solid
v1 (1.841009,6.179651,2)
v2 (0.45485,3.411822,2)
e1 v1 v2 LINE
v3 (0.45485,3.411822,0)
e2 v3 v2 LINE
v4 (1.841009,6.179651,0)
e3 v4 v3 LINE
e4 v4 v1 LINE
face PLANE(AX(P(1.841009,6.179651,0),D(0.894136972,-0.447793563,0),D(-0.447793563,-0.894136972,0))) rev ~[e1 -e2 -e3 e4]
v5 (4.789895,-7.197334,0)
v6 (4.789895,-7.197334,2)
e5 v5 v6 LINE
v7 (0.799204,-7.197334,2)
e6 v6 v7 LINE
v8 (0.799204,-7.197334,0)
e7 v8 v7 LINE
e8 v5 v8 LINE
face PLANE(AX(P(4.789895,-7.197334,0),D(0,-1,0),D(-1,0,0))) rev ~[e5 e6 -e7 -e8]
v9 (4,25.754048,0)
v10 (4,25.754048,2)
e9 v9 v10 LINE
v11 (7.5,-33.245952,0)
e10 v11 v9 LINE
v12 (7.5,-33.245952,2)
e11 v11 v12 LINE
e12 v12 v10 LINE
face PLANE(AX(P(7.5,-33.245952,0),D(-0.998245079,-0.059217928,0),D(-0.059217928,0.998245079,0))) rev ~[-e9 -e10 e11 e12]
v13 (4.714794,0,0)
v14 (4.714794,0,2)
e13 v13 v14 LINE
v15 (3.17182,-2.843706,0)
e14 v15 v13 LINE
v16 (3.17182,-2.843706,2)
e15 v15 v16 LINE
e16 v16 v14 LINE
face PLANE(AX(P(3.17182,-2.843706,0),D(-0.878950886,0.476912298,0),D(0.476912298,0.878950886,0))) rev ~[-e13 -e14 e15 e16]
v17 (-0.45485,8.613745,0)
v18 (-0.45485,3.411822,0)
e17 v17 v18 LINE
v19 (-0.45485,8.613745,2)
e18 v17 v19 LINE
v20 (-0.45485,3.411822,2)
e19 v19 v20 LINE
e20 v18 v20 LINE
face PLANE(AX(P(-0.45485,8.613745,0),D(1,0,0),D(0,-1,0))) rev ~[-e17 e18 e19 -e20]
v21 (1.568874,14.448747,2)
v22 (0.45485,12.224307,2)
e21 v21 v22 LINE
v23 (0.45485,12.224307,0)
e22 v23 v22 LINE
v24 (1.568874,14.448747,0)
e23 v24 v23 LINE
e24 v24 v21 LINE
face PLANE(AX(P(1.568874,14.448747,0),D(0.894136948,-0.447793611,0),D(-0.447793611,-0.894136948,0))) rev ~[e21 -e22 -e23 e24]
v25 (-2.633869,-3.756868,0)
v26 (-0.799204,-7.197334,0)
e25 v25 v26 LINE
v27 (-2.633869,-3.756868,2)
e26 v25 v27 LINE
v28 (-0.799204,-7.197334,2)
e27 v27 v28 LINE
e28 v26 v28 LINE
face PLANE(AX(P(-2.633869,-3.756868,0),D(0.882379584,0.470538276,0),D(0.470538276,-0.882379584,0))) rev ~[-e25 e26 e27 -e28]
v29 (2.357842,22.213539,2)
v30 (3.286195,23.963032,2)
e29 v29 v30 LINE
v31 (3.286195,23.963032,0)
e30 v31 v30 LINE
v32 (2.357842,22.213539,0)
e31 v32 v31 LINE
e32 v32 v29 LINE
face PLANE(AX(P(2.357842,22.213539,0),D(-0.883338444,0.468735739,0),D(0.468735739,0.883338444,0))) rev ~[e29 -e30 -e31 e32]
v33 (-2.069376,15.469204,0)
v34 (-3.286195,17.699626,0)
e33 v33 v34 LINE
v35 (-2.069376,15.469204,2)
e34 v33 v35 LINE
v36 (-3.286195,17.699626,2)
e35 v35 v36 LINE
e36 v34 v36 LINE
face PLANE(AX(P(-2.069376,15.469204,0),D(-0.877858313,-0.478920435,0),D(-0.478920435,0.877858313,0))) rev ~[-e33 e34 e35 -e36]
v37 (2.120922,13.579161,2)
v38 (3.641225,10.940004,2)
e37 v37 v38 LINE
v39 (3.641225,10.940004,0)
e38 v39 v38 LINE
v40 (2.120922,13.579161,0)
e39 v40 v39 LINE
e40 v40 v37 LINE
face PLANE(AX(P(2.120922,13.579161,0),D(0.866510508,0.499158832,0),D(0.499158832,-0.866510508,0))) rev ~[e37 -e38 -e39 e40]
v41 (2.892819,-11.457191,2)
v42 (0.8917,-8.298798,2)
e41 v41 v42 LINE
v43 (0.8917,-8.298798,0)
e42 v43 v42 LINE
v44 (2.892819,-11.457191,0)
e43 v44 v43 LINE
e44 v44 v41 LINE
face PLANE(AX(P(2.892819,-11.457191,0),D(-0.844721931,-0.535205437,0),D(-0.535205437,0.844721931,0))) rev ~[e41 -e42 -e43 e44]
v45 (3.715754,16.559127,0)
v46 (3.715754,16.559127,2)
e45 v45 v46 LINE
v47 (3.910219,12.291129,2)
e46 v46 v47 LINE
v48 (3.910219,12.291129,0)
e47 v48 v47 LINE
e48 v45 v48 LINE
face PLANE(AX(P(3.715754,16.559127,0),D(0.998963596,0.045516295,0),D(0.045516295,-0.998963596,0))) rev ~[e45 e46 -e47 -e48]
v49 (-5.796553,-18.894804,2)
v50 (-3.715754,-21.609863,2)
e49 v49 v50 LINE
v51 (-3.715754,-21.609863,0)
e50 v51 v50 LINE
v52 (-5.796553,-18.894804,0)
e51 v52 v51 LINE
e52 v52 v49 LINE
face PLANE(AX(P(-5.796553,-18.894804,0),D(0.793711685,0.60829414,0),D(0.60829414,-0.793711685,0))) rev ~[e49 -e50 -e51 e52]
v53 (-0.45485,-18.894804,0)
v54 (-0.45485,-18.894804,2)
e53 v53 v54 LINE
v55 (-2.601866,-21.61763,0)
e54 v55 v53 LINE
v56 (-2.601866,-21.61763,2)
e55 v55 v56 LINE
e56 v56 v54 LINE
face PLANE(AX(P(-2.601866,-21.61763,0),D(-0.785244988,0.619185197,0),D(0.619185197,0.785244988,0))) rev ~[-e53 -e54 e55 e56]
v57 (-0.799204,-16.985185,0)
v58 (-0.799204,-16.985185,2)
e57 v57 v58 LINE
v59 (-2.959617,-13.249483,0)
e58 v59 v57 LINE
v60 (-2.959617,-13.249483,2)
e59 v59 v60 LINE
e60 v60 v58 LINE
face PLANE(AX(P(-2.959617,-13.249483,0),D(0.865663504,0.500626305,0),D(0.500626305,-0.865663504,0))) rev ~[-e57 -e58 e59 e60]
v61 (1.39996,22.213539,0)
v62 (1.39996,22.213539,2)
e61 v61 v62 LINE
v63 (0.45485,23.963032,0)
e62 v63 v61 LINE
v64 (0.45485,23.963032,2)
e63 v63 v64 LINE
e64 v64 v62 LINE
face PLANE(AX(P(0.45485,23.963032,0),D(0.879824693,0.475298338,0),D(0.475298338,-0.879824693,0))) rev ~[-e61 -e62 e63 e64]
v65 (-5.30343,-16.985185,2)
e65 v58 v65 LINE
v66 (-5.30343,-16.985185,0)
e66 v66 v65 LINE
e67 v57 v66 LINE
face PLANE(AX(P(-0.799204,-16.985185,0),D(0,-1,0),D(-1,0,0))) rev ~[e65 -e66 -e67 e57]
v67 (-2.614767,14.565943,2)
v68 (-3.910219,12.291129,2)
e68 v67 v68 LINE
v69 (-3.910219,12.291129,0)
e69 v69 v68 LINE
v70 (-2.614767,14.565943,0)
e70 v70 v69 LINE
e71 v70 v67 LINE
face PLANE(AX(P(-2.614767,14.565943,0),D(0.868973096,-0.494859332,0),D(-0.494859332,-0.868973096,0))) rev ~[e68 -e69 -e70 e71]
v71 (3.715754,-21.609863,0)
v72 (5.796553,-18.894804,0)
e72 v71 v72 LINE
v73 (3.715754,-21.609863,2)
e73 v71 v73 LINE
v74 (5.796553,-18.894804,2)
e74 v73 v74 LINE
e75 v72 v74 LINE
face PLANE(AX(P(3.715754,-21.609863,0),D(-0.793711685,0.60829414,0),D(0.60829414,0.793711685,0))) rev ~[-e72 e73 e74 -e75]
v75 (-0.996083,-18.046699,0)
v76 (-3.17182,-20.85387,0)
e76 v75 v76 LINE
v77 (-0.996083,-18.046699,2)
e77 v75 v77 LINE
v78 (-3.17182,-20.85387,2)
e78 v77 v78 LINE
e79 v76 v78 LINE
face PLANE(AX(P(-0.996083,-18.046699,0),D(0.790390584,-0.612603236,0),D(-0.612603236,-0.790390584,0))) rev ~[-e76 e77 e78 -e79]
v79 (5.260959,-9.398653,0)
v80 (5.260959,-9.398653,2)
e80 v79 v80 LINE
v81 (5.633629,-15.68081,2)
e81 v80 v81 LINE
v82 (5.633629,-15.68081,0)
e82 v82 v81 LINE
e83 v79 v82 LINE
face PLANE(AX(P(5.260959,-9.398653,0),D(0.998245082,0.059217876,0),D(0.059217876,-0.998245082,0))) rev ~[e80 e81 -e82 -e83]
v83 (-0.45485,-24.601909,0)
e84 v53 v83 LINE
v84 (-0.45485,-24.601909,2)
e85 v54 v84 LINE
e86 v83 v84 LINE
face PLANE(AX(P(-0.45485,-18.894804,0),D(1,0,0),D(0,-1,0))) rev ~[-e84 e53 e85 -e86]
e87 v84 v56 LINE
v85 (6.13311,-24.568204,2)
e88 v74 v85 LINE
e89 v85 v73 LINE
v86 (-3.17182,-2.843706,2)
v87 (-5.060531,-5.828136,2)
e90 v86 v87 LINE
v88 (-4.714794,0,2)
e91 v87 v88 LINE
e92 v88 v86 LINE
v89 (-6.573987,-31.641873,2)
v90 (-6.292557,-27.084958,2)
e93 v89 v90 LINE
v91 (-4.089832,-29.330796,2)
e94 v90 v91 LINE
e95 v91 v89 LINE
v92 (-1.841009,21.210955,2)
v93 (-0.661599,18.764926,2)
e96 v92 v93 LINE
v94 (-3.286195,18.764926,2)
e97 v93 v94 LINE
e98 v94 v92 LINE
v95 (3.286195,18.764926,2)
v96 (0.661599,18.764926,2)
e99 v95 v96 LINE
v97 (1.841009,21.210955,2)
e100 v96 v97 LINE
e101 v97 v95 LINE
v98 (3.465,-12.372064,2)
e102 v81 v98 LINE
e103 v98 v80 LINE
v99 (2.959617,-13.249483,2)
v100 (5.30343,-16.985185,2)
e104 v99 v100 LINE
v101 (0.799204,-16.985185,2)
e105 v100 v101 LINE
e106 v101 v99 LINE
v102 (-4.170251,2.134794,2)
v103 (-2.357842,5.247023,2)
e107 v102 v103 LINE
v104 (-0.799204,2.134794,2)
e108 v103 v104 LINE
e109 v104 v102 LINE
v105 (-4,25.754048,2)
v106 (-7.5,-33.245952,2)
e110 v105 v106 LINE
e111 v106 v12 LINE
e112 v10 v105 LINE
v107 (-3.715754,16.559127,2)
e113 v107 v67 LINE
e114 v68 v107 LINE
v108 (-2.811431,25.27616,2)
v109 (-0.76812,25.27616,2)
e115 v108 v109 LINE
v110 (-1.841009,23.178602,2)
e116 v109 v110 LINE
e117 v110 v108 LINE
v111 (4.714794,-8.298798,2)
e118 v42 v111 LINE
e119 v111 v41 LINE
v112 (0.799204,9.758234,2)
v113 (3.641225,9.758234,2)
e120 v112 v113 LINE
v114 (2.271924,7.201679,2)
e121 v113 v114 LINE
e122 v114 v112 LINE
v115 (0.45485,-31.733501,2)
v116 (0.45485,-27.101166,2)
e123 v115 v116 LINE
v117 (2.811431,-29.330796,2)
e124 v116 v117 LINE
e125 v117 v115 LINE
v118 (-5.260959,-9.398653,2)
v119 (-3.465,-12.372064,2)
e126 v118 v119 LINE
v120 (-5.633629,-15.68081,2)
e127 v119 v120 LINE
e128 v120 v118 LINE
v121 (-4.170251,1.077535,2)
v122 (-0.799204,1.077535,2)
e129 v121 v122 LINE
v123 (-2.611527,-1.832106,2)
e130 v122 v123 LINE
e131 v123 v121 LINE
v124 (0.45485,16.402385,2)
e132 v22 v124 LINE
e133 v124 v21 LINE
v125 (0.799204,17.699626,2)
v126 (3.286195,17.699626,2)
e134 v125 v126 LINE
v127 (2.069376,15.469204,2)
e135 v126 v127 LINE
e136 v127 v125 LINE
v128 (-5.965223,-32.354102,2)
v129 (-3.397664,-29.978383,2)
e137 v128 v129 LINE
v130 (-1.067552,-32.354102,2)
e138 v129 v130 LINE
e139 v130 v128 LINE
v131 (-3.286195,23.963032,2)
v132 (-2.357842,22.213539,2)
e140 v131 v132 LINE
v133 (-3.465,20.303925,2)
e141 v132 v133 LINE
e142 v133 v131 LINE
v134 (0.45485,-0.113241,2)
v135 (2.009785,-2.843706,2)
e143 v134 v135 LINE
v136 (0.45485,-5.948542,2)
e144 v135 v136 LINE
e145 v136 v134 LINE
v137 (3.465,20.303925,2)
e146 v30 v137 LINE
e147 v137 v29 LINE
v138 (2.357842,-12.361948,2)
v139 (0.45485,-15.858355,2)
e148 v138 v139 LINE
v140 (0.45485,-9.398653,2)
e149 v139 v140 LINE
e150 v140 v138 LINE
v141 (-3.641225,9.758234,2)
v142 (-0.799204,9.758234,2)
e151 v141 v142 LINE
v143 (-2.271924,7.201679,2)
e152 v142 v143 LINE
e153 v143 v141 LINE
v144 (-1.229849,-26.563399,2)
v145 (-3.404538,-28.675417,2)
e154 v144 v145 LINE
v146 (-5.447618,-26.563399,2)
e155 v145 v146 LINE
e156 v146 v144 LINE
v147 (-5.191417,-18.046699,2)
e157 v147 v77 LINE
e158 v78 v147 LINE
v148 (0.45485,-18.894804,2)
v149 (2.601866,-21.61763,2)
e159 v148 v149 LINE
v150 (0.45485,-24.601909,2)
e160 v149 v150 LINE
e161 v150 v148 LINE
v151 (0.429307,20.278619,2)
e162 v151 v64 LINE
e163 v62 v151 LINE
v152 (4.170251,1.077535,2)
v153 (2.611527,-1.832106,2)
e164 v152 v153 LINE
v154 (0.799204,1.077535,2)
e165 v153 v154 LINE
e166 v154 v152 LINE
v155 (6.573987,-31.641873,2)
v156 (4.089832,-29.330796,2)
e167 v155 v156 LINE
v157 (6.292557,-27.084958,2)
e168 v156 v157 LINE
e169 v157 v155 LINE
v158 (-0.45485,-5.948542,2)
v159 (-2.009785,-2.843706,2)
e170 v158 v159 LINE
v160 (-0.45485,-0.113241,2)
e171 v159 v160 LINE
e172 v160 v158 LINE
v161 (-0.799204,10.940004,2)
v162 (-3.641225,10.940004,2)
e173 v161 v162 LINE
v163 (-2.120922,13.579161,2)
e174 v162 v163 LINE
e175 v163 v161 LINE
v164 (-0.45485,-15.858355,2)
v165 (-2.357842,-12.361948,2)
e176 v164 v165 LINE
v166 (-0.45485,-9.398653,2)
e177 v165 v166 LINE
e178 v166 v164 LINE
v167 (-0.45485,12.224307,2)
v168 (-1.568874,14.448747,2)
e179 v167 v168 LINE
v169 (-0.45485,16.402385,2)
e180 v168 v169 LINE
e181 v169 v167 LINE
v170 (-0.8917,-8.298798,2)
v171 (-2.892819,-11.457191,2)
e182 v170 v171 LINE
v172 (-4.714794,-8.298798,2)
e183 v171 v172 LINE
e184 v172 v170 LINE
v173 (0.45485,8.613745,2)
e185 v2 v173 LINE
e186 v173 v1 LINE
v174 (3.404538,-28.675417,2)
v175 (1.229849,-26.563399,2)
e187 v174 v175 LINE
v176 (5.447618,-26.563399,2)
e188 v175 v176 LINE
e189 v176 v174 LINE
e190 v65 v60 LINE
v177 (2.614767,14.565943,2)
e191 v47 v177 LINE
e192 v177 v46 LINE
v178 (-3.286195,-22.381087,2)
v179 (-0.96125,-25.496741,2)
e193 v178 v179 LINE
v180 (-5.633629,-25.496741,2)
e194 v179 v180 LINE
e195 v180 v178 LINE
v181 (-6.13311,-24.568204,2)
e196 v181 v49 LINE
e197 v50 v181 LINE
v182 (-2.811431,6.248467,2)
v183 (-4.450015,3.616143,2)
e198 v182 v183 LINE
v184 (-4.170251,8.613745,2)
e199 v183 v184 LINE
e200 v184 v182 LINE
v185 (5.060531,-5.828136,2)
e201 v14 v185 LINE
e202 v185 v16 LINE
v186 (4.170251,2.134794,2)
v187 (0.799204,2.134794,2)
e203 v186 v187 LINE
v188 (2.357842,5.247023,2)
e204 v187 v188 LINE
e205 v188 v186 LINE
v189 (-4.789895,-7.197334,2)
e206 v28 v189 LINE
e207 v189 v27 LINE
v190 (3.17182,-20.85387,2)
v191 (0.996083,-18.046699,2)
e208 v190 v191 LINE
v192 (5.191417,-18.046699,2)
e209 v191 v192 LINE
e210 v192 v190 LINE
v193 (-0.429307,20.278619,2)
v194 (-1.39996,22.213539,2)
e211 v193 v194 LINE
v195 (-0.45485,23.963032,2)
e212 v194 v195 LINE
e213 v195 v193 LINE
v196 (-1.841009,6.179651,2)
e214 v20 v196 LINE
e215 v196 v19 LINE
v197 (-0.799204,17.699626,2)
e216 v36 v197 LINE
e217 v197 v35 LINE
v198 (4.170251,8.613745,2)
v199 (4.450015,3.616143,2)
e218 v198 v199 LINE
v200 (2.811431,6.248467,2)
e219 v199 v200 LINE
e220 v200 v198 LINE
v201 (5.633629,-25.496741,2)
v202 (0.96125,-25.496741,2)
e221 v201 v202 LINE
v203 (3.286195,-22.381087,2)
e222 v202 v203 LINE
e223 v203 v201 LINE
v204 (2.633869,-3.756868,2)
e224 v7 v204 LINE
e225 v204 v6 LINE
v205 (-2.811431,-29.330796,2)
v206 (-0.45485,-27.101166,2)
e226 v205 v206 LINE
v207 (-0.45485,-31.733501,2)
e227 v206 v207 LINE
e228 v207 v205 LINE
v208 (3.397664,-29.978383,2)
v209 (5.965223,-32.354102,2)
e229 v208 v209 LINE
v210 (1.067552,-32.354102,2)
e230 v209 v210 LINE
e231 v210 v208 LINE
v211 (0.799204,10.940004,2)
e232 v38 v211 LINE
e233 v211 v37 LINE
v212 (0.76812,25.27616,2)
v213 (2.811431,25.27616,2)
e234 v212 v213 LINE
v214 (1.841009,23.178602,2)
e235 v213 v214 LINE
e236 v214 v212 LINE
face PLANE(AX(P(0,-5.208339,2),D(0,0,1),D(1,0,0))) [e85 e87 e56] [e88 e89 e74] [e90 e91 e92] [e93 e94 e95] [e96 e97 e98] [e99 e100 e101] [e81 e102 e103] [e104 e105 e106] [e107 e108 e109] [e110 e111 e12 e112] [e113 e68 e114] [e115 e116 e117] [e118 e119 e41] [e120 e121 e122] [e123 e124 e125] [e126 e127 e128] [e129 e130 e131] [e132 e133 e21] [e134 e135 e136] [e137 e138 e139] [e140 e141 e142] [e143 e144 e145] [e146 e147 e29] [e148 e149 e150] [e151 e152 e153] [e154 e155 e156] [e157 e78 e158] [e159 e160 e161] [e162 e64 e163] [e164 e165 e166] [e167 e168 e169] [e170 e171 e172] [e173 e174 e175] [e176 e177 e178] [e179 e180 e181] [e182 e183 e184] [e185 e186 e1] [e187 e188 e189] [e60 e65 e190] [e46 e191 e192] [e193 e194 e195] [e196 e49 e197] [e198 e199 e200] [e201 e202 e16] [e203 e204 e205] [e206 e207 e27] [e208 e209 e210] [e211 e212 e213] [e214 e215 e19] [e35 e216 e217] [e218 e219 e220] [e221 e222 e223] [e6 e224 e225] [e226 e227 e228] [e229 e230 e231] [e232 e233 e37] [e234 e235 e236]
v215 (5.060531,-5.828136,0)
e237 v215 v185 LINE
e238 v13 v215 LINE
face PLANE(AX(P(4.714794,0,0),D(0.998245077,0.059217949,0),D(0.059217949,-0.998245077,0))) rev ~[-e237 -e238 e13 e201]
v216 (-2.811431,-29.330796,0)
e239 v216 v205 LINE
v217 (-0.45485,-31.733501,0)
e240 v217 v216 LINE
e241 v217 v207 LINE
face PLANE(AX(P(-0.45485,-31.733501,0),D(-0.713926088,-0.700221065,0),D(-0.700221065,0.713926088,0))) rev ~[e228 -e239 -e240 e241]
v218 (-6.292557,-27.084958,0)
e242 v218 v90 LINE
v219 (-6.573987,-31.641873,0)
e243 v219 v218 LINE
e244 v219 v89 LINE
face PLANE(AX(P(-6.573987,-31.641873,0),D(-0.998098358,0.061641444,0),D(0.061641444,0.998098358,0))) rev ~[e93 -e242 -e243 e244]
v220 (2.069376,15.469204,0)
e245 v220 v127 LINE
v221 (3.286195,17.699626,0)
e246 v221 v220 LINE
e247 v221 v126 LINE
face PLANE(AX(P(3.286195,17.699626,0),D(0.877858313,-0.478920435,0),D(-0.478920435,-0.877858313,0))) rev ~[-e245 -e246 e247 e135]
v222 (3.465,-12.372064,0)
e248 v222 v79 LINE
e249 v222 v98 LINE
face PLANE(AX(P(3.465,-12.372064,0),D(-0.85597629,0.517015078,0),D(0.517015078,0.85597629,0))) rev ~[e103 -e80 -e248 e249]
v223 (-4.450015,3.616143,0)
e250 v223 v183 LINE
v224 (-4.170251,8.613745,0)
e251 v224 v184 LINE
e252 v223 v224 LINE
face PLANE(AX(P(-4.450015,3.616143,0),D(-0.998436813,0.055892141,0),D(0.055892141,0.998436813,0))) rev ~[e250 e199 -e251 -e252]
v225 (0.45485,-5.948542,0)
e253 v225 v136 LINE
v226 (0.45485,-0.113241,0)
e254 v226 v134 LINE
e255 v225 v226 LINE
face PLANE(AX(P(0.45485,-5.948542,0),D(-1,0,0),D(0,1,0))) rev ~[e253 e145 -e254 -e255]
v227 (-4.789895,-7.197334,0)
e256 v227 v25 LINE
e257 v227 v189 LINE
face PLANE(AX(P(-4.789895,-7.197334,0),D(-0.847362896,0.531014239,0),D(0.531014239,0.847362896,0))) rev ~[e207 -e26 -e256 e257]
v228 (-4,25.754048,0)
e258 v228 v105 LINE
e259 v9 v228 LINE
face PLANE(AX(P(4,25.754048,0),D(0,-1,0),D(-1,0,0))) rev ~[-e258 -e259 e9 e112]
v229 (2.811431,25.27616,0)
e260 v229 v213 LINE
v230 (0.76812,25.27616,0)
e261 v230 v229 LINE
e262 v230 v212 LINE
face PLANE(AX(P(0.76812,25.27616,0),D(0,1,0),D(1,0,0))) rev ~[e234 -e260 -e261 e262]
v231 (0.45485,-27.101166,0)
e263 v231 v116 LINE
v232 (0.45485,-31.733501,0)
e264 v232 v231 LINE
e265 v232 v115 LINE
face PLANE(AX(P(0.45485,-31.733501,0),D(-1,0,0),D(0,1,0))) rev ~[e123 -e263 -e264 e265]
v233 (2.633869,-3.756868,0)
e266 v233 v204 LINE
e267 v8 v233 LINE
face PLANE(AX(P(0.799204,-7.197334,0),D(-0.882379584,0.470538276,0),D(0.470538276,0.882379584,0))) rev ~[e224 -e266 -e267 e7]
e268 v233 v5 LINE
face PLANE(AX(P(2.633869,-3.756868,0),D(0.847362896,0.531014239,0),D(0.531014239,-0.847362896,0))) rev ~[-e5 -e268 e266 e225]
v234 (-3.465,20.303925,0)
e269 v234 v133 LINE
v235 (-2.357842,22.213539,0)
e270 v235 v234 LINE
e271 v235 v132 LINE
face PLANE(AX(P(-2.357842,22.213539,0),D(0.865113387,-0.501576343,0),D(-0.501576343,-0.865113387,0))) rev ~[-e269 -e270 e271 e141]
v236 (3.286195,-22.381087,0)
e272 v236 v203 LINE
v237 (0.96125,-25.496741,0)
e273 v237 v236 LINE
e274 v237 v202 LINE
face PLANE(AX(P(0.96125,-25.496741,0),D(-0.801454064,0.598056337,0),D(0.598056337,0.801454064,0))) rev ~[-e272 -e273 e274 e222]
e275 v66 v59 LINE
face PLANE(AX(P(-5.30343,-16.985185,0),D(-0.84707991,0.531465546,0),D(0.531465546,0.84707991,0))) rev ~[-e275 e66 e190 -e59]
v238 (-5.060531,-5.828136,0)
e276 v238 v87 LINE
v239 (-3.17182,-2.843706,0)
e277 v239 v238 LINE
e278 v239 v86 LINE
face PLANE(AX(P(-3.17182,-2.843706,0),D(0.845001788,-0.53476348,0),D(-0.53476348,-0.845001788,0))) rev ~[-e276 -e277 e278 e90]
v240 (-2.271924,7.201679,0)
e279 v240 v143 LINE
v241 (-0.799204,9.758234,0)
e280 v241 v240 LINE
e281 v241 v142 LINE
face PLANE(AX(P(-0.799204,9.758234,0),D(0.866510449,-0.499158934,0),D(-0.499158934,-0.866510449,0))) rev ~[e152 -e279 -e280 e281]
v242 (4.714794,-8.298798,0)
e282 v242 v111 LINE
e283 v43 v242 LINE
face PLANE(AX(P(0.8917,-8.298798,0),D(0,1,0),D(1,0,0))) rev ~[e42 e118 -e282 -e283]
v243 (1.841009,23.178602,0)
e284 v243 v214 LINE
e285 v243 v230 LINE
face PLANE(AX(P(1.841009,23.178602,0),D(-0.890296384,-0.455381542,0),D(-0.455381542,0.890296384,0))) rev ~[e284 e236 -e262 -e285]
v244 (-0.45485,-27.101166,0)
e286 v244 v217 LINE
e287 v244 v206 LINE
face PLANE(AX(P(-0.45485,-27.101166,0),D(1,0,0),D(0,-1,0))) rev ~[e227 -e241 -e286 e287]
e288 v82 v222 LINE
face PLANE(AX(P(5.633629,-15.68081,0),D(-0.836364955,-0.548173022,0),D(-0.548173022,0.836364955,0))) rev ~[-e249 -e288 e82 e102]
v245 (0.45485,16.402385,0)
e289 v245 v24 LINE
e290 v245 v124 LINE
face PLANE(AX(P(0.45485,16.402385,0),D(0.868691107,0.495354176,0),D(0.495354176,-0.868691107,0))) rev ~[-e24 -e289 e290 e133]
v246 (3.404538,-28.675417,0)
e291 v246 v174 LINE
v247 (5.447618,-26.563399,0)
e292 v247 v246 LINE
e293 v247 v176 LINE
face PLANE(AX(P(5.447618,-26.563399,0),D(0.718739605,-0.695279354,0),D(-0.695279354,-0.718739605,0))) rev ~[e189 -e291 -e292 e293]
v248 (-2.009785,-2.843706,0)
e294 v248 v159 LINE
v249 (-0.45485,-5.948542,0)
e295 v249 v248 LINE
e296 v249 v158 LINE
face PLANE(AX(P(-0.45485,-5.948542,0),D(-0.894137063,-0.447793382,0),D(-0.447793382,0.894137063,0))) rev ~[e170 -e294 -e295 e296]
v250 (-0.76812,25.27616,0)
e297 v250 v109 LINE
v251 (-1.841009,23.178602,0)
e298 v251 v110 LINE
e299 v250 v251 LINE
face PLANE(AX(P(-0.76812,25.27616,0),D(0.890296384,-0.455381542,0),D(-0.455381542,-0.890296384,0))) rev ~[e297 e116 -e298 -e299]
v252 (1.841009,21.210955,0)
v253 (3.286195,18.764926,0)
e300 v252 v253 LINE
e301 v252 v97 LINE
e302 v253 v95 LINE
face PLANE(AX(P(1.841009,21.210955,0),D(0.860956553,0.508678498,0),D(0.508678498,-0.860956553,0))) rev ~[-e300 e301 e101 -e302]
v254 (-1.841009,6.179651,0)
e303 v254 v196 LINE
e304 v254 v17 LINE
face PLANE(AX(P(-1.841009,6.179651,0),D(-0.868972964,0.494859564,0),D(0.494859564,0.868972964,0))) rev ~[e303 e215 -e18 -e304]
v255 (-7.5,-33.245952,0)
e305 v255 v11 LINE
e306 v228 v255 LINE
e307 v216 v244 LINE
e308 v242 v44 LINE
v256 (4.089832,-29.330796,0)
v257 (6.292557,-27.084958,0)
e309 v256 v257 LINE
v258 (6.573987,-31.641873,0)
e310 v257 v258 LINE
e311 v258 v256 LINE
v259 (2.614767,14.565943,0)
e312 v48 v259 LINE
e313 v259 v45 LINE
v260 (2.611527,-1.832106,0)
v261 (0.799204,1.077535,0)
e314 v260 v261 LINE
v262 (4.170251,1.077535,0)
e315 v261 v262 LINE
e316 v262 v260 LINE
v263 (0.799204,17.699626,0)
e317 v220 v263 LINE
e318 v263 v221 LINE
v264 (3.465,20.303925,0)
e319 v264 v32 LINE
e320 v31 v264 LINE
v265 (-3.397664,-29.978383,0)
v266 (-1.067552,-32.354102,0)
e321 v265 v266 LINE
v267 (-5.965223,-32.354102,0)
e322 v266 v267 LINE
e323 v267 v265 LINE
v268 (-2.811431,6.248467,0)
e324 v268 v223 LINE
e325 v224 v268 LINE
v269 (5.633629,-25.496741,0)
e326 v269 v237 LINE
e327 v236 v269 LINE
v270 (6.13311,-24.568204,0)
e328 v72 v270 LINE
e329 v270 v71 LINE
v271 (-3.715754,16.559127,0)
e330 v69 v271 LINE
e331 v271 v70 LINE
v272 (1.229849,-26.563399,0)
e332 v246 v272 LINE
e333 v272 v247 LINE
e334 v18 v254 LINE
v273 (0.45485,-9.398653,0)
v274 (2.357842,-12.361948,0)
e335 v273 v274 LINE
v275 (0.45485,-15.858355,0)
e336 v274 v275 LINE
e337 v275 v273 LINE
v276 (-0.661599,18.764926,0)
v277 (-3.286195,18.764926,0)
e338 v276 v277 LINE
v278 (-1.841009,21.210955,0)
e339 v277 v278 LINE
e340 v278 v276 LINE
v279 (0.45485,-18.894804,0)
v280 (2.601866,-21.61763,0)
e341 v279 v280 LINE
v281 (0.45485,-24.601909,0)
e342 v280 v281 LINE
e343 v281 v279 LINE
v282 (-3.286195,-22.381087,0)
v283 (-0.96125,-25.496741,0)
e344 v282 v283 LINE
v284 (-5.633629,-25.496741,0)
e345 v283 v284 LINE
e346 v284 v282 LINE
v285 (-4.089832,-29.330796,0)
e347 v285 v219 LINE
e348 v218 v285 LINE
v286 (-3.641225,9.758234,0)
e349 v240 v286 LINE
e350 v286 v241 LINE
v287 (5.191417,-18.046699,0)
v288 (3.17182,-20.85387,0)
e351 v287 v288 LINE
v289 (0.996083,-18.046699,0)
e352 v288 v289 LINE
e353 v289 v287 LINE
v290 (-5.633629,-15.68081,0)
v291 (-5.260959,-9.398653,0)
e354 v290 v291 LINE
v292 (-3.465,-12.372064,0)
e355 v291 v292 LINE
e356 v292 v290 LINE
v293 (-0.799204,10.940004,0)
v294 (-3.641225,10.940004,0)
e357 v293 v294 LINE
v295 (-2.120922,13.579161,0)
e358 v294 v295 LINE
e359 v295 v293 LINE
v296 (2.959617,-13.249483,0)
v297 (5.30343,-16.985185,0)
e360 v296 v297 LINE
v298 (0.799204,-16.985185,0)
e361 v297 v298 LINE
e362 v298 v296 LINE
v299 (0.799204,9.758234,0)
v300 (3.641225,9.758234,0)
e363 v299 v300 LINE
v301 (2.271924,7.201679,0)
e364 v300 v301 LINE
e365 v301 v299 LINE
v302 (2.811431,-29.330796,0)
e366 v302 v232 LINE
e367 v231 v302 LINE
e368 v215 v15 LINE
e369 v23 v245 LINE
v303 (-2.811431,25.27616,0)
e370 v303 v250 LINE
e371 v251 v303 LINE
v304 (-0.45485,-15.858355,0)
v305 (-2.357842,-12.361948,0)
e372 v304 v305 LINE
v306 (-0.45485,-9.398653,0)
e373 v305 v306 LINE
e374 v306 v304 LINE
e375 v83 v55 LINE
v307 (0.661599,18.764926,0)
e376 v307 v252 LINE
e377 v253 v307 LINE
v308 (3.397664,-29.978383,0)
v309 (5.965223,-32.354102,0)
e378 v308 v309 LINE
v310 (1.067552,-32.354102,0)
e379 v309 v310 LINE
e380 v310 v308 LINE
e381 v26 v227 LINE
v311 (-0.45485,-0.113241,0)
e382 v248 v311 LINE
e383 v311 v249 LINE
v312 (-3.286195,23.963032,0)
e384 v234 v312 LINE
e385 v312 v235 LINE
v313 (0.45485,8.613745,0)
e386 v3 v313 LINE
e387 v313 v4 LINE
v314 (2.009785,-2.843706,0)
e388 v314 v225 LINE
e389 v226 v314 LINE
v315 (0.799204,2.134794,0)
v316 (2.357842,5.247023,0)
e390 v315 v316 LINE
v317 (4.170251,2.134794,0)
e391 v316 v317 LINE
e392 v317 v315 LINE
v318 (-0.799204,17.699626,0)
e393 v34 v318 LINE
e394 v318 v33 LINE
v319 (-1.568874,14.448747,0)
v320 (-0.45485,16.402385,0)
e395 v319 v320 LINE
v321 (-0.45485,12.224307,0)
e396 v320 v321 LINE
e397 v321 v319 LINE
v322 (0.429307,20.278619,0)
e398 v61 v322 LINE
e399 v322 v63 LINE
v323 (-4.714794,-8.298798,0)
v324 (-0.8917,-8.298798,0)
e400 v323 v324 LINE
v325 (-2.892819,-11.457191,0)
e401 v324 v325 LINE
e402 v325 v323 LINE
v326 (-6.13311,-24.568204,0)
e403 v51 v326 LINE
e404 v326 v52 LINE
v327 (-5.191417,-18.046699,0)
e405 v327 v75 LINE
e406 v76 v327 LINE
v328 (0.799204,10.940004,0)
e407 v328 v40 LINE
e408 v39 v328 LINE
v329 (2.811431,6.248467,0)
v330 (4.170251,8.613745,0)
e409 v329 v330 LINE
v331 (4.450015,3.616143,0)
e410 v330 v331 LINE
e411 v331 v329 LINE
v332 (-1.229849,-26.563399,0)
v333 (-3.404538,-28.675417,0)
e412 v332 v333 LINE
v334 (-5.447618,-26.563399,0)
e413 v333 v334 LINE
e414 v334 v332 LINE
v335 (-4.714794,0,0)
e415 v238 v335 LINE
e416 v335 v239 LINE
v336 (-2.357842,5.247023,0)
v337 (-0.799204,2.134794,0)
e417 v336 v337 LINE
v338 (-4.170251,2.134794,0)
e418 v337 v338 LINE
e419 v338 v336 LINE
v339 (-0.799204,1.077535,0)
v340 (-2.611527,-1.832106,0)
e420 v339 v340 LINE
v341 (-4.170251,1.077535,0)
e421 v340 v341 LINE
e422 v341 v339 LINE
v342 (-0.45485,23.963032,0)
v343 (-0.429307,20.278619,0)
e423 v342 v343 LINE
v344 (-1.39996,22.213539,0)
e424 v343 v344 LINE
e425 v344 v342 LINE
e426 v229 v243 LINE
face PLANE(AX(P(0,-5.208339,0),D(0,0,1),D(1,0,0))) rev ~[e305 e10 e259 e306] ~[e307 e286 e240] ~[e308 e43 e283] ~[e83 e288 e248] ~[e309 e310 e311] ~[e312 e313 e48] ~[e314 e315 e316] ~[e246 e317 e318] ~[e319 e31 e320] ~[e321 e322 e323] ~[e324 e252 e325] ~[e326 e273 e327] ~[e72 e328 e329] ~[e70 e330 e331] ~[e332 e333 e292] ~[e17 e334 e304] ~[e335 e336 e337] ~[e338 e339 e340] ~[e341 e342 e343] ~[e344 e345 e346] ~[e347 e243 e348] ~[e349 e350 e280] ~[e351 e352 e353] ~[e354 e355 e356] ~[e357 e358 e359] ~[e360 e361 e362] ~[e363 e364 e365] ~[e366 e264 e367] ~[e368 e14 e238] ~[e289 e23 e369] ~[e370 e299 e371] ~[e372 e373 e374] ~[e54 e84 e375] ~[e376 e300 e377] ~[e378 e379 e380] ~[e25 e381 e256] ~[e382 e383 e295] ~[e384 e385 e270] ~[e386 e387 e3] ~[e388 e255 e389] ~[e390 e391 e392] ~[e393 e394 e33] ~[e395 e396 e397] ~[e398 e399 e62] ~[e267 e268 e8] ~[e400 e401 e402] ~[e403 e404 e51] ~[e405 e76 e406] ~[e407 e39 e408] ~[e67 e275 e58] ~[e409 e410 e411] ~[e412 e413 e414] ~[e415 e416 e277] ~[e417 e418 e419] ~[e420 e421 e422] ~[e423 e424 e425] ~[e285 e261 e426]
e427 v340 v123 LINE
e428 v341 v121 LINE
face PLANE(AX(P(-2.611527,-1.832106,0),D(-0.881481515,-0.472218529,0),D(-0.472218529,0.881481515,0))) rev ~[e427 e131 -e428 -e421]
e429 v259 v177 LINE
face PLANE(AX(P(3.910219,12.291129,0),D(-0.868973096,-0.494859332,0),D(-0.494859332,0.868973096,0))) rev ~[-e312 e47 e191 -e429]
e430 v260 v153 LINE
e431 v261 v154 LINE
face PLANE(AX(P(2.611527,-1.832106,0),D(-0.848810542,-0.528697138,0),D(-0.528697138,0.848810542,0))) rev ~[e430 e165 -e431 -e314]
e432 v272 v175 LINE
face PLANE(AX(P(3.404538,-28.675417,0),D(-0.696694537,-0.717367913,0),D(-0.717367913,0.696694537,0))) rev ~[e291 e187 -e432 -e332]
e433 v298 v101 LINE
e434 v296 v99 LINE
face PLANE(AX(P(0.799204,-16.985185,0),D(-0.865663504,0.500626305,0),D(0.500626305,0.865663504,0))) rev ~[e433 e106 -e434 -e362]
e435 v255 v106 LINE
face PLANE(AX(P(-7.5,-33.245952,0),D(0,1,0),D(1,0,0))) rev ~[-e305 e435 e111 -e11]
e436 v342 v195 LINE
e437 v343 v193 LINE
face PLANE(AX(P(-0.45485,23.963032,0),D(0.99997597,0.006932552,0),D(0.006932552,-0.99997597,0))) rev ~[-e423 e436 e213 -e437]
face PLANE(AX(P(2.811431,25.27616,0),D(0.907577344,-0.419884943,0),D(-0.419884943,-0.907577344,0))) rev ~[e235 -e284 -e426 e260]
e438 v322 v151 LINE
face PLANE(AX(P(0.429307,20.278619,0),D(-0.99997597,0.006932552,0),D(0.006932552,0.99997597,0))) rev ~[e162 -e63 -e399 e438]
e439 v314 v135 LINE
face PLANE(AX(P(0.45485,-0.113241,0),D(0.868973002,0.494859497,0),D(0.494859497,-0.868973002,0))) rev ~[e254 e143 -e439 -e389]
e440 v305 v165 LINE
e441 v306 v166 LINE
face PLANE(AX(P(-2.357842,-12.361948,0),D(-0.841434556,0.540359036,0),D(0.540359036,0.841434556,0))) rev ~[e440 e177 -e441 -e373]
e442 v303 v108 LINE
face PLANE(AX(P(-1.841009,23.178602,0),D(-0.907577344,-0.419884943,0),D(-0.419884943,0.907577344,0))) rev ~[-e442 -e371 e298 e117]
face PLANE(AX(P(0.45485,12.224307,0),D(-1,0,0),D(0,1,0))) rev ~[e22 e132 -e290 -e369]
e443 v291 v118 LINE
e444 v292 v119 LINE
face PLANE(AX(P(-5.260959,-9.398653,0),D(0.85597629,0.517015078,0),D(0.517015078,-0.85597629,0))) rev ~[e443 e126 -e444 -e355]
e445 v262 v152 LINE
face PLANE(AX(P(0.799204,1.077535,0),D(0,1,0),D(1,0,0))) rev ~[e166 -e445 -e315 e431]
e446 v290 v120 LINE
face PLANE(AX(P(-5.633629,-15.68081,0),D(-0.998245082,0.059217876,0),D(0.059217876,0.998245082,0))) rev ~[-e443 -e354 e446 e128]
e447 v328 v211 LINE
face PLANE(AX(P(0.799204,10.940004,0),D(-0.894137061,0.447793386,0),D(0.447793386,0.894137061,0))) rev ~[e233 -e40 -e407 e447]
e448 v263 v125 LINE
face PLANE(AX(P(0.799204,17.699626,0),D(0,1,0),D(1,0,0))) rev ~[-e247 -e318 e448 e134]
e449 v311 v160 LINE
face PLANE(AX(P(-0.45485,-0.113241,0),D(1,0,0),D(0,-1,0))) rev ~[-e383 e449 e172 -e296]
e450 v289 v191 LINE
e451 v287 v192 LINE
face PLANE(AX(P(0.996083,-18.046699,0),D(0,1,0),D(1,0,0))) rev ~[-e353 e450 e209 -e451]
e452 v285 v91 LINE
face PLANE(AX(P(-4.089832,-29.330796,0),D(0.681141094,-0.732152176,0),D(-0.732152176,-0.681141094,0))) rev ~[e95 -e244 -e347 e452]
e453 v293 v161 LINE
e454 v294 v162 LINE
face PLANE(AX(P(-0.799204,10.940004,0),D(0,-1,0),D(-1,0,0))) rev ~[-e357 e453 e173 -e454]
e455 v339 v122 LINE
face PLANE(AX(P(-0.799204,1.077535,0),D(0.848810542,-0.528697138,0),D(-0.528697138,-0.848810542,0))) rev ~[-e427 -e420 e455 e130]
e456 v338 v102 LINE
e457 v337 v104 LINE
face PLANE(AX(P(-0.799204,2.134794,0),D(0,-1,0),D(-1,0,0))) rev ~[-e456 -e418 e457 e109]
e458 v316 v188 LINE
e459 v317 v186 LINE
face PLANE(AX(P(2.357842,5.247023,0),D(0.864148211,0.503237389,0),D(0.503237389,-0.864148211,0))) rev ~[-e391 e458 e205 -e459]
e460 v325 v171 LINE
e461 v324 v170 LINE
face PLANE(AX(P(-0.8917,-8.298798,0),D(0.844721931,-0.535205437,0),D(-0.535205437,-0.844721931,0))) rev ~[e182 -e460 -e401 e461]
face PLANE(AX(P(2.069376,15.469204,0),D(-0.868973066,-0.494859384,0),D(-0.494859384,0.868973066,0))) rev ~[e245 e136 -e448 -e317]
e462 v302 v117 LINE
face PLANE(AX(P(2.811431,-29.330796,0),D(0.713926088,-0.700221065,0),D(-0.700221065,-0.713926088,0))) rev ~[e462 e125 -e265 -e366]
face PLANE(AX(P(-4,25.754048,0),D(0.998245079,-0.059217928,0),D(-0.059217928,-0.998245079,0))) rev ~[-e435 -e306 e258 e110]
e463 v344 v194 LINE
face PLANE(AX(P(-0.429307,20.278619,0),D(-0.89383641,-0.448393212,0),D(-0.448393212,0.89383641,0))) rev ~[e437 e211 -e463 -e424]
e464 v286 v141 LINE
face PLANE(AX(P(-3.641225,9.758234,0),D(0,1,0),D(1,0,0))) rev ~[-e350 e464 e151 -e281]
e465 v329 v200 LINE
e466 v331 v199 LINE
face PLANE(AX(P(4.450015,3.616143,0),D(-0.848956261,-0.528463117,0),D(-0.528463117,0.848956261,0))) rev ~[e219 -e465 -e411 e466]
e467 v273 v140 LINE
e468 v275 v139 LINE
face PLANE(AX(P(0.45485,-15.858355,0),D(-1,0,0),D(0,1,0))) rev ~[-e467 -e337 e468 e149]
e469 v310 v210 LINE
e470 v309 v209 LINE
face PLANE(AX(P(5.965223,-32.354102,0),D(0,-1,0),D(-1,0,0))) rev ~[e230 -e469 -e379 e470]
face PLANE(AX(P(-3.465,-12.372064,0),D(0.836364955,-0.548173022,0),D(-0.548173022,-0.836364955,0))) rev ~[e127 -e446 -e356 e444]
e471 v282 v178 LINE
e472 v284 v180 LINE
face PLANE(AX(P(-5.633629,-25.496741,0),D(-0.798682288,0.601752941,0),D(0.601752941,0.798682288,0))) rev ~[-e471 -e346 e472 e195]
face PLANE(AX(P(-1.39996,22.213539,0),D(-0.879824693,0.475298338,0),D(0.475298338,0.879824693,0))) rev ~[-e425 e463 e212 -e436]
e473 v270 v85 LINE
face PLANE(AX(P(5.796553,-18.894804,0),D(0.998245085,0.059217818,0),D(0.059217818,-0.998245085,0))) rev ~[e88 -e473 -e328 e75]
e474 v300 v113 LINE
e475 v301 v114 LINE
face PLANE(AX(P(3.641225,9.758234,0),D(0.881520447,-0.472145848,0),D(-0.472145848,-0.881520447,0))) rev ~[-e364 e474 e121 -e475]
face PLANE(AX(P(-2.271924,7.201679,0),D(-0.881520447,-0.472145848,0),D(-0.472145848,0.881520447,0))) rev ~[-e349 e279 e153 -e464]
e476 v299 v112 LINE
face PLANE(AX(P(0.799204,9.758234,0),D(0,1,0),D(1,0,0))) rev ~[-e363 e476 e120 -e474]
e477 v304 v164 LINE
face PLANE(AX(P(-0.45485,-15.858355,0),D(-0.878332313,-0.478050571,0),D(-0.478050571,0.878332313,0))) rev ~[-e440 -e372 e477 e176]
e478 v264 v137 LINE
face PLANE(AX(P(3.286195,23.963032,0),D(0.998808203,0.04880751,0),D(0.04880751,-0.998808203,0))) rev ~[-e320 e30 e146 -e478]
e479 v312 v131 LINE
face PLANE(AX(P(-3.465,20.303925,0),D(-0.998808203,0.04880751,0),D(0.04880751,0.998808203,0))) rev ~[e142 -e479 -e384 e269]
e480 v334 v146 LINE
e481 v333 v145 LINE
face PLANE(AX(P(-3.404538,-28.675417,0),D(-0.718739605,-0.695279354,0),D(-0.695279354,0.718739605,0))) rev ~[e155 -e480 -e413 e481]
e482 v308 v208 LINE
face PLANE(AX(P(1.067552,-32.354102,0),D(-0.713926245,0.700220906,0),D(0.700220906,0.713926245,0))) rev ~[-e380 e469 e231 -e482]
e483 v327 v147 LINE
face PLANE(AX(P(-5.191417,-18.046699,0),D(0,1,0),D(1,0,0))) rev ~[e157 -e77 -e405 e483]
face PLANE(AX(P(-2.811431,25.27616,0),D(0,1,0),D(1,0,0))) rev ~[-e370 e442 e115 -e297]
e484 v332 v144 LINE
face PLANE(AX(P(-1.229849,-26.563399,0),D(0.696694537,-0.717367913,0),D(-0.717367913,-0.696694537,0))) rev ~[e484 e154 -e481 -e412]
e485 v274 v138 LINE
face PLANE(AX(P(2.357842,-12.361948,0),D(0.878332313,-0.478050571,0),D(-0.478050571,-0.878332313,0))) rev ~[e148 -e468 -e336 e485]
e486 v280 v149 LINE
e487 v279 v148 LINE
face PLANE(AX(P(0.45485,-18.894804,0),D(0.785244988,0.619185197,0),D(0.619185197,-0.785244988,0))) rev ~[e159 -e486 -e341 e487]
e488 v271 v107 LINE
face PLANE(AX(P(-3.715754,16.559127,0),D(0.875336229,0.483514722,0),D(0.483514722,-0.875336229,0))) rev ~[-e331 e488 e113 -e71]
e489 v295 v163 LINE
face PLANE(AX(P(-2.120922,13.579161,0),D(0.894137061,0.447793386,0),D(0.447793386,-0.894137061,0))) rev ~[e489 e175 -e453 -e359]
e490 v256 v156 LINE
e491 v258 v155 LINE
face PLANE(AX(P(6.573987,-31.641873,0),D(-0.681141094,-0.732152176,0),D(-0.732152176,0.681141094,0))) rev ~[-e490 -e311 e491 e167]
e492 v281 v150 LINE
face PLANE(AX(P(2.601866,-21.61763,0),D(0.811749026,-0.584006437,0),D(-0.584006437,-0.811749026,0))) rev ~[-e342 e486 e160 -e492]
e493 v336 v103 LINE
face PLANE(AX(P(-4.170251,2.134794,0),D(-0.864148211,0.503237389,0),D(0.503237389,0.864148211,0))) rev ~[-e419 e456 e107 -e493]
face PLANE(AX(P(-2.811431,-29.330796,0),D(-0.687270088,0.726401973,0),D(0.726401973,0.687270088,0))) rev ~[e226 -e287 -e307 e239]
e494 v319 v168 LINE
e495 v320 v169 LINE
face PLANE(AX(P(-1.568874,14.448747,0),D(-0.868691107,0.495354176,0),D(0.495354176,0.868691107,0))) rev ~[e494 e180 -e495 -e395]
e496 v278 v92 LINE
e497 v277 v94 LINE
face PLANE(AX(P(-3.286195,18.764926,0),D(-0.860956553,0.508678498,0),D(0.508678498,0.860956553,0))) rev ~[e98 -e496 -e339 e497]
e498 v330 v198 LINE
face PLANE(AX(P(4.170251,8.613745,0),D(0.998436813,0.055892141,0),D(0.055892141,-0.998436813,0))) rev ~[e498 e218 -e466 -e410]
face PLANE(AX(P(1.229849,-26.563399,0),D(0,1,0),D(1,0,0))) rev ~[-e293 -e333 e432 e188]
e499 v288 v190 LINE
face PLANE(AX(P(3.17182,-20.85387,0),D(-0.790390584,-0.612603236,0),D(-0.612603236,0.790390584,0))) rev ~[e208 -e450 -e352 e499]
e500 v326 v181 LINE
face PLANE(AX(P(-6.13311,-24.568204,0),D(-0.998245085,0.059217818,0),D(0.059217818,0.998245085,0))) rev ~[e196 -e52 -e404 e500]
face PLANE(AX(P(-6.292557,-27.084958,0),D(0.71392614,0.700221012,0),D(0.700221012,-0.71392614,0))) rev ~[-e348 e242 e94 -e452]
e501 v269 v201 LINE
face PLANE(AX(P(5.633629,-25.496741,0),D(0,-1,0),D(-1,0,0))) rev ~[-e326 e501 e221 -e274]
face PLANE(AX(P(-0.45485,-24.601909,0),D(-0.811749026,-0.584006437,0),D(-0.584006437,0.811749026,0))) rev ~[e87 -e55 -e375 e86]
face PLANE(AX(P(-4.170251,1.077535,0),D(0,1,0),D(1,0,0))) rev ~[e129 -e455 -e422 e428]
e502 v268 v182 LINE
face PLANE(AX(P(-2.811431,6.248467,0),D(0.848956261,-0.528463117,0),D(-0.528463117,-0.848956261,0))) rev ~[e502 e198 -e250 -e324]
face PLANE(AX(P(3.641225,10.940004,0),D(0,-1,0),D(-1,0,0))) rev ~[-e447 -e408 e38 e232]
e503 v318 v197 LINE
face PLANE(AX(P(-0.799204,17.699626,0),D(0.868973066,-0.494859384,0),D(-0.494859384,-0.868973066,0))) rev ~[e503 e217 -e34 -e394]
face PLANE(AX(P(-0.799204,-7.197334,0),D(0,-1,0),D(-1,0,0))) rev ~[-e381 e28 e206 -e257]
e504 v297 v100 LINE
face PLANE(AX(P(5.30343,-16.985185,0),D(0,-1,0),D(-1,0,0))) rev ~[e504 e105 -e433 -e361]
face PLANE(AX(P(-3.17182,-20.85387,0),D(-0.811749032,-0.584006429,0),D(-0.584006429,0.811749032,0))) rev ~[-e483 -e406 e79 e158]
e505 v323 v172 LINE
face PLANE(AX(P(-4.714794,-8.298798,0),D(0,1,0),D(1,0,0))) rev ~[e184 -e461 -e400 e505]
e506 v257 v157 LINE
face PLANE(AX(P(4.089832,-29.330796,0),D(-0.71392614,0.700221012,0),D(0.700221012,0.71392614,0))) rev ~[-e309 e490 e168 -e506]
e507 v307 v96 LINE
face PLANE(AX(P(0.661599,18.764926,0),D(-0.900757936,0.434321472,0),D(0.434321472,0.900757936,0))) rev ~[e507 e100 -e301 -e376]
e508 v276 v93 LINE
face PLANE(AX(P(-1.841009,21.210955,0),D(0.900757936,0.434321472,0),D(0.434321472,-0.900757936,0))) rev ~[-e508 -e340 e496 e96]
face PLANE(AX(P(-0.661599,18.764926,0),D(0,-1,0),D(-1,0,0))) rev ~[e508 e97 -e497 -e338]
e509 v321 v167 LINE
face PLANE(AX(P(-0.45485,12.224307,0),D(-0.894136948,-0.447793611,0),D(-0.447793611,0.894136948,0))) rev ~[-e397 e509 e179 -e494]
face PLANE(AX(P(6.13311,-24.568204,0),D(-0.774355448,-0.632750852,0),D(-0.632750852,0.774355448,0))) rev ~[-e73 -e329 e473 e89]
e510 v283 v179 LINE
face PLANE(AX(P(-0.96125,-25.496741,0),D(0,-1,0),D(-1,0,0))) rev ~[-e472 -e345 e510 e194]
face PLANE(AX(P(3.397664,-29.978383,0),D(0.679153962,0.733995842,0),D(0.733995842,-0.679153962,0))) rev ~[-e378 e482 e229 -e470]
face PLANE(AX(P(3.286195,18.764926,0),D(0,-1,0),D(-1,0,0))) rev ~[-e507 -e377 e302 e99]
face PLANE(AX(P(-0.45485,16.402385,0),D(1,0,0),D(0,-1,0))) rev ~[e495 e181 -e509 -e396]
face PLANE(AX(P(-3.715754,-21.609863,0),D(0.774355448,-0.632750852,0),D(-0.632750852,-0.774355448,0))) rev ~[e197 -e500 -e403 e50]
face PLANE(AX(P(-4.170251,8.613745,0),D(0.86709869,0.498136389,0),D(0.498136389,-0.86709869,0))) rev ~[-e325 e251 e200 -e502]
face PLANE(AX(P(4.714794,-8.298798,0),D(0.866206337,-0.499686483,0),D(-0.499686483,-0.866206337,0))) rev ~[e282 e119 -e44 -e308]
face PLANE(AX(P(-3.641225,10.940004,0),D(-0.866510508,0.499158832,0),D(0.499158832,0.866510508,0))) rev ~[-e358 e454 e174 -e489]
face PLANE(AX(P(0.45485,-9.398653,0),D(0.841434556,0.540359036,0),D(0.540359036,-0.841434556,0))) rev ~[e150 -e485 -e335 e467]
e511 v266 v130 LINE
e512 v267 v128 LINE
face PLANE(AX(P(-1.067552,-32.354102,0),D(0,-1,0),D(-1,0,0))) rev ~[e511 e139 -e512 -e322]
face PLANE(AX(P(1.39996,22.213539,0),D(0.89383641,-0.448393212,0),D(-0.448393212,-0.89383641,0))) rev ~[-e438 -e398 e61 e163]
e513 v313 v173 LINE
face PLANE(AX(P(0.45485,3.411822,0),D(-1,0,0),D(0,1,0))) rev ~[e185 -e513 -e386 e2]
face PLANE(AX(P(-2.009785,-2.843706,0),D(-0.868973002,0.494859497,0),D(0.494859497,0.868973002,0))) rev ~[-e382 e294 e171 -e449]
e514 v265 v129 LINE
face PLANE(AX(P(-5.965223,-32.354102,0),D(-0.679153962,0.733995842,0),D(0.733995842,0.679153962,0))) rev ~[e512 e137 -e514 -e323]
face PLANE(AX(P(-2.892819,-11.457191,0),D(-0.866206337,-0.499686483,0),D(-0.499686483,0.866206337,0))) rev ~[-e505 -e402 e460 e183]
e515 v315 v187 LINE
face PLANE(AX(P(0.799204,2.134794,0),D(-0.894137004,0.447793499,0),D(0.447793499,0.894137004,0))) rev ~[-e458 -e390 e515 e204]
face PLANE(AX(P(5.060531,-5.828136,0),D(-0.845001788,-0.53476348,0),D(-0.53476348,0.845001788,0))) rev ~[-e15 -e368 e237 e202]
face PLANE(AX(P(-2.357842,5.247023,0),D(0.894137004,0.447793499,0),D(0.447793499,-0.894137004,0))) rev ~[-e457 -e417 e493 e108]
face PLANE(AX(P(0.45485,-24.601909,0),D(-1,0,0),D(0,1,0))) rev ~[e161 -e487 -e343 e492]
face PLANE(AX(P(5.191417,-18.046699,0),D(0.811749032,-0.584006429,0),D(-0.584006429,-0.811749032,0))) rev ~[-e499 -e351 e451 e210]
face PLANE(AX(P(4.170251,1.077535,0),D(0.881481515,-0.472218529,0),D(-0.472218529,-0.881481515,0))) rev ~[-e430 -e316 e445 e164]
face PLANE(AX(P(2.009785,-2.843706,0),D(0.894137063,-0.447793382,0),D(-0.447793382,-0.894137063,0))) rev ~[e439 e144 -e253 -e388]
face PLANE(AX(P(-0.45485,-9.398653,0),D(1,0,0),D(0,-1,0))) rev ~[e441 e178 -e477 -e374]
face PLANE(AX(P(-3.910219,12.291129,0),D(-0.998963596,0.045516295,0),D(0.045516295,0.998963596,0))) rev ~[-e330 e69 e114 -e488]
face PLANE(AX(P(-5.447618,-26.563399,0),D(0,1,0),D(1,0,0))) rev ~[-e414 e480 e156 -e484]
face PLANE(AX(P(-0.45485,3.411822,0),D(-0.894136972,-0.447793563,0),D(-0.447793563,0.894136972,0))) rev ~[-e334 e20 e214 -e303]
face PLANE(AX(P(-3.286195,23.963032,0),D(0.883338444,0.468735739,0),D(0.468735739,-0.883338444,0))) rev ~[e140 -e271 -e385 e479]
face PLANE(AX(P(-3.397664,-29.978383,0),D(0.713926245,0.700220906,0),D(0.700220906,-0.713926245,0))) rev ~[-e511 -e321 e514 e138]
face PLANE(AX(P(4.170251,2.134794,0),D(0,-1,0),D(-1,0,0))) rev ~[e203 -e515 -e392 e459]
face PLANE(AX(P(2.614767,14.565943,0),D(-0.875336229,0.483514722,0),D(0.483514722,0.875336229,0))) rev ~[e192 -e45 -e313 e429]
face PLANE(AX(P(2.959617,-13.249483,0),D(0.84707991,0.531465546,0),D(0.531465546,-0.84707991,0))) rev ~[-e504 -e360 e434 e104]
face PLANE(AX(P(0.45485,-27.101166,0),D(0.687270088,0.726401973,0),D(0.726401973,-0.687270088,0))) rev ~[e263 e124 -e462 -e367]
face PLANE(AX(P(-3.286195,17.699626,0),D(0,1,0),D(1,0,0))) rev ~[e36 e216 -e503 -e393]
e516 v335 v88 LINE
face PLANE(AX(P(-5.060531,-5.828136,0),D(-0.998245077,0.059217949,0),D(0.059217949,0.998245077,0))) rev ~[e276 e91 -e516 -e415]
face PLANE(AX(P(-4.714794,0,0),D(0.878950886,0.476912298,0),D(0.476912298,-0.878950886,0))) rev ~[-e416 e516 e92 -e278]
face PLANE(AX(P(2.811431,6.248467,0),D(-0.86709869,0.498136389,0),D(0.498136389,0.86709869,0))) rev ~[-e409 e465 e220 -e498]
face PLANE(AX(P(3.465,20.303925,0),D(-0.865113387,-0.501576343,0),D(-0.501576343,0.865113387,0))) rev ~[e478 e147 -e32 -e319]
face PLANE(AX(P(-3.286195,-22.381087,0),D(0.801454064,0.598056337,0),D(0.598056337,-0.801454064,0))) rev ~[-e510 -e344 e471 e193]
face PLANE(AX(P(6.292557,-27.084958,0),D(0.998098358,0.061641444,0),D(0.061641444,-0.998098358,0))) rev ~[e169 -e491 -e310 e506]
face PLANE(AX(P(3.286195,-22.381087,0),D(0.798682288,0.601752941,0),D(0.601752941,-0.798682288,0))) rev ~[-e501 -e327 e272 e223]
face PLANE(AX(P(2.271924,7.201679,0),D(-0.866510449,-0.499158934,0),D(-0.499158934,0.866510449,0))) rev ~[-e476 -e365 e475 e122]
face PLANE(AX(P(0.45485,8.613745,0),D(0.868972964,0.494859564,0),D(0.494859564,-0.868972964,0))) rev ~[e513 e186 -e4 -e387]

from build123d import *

# Parameters (mm, degrees)
F1_DEPTH = 2


with BuildPart() as f1:
    # F0 (on Top) → F1 (new body)
    with BuildSketch(Plane.XY):
        Polygon((4, 25.754048), (0, 25.754048), (-4, 25.754048), (-7.5, -33.245952), (0, -33.245952), (7.5, -33.245952), align=None)
        Polygon((-4.089832, -29.330796), (-6.573987, -31.641873), (-6.292557, -27.084958), align=None, mode=Mode.SUBTRACT)
        Polygon((-6.13311, -24.568204), (-5.796553, -18.894804), (-3.715754, -21.609863), align=None, mode=Mode.SUBTRACT)
        Polygon((-1.067552, -32.354102), (-5.965223, -32.354102), (-3.397664, -29.978383), align=None, mode=Mode.SUBTRACT)
        Polygon((-3.404538, -28.675417), (-5.447618, -26.563399), (-1.229849, -26.563399), align=None, mode=Mode.SUBTRACT)
        Polygon((-0.45485, -31.733501), (-2.811431, -29.330796), (-0.45485, -27.101166), align=None, mode=Mode.SUBTRACT)
        Polygon((-5.633629, -25.496741), (-3.286195, -22.381087), (-0.96125, -25.496741), align=None, mode=Mode.SUBTRACT)
        Polygon((-3.17182, -20.85387), (-5.191417, -18.046699), (-0.996083, -18.046699), align=None, mode=Mode.SUBTRACT)
        Polygon((-2.601866, -21.61763), (-0.45485, -18.894804), (-0.45485, -24.601909), align=None, mode=Mode.SUBTRACT)
        Polygon((-3.465, -12.372064), (-5.633629, -15.68081), (-5.260959, -9.398653), align=None, mode=Mode.SUBTRACT)
        Polygon((-0.799204, -16.985185), (-5.30343, -16.985185), (-2.959617, -13.249483), align=None, mode=Mode.SUBTRACT)
        Polygon((-2.357842, -12.361948), (-0.45485, -9.398653), (-0.45485, -15.858355), align=None, mode=Mode.SUBTRACT)
        Polygon((-2.892819, -11.457191), (-4.714794, -8.298798), (-0.8917, -8.298798), align=None, mode=Mode.SUBTRACT)
        Polygon((-0.799204, -7.197334), (-4.789895, -7.197334), (-2.633869, -3.756868), align=None, mode=Mode.SUBTRACT)
        Polygon((2.811431, -29.330796), (0.45485, -31.733501), (0.45485, -27.101166), align=None, mode=Mode.SUBTRACT)
        Polygon((5.965223, -32.354102), (1.067552, -32.354102), (3.397664, -29.978383), align=None, mode=Mode.SUBTRACT)
        Polygon((5.447618, -26.563399), (3.404538, -28.675417), (1.229849, -26.563399), align=None, mode=Mode.SUBTRACT)
        Polygon((0.45485, -18.894804), (2.601866, -21.61763), (0.45485, -24.601909), align=None, mode=Mode.SUBTRACT)
        Polygon((3.286195, -22.381087), (5.633629, -25.496741), (0.96125, -25.496741), align=None, mode=Mode.SUBTRACT)
        Polygon((0.996083, -18.046699), (5.191417, -18.046699), (3.17182, -20.85387), align=None, mode=Mode.SUBTRACT)
        Polygon((6.292557, -27.084958), (6.573987, -31.641873), (4.089832, -29.330796), align=None, mode=Mode.SUBTRACT)
        Polygon((5.796553, -18.894804), (6.13311, -24.568204), (3.715754, -21.609863), align=None, mode=Mode.SUBTRACT)
        Polygon((2.357842, -12.361948), (0.45485, -15.858355), (0.45485, -9.398653), align=None, mode=Mode.SUBTRACT)
        Polygon((0.799204, -16.985185), (2.959617, -13.249483), (5.30343, -16.985185), align=None, mode=Mode.SUBTRACT)
        Polygon((0.8917, -8.298798), (4.714794, -8.298798), (2.892819, -11.457191), align=None, mode=Mode.SUBTRACT)
        Polygon((4.789895, -7.197334), (0.799204, -7.197334), (2.633869, -3.756868), align=None, mode=Mode.SUBTRACT)
        Polygon((3.465, -12.372064), (5.260959, -9.398653), (5.633629, -15.68081), align=None, mode=Mode.SUBTRACT)
        Polygon((-5.060531, -5.828136), (-4.714794, 0), (-3.17182, -2.843706), align=None, mode=Mode.SUBTRACT)
        Polygon((-2.611527, -1.832106), (-4.170251, 1.077535), (-0.799204, 1.077535), align=None, mode=Mode.SUBTRACT)
        Polygon((-2.009785, -2.843706), (-0.45485, -0.113241), (-0.45485, -5.948542), align=None, mode=Mode.SUBTRACT)
        Polygon((-4.450015, 3.616143), (-4.170251, 8.613745), (-2.811431, 6.248467), align=None, mode=Mode.SUBTRACT)
        Polygon((-0.799204, 2.134794), (-4.170251, 2.134794), (-2.357842, 5.247023), align=None, mode=Mode.SUBTRACT)
        Polygon((-2.271924, 7.201679), (-3.641225, 9.758234), (-0.799204, 9.758234), align=None, mode=Mode.SUBTRACT)
        Polygon((-1.841009, 6.179651), (-0.45485, 8.613745), (-0.45485, 3.411822), align=None, mode=Mode.SUBTRACT)
        Polygon((-3.910219, 12.291129), (-3.715754, 16.559127), (-2.614767, 14.565943), align=None, mode=Mode.SUBTRACT)
        Polygon((-0.799204, 10.940004), (-3.641225, 10.940004), (-2.120922, 13.579161), align=None, mode=Mode.SUBTRACT)
        Polygon((-2.069376, 15.469204), (-3.286195, 17.699626), (-0.799204, 17.699626), align=None, mode=Mode.SUBTRACT)
        Polygon((-0.45485, 12.224307), (-1.568874, 14.448747), (-0.45485, 16.402385), align=None, mode=Mode.SUBTRACT)
        Polygon((-0.661599, 18.764926), (-3.286195, 18.764926), (-1.841009, 21.210955), align=None, mode=Mode.SUBTRACT)
        Polygon((-3.465, 20.303925), (-3.286195, 23.963032), (-2.357842, 22.213539), align=None, mode=Mode.SUBTRACT)
        Polygon((-1.841009, 23.178602), (-2.811431, 25.27616), (-0.76812, 25.27616), align=None, mode=Mode.SUBTRACT)
        Polygon((-1.39996, 22.213539), (-0.45485, 23.963032), (-0.429307, 20.278619), align=None, mode=Mode.SUBTRACT)
        Polygon((0.45485, -5.948542), (0.45485, -0.113241), (2.009785, -2.843706), align=None, mode=Mode.SUBTRACT)
        Polygon((0.799204, 1.077535), (4.170251, 1.077535), (2.611527, -1.832106), align=None, mode=Mode.SUBTRACT)
        Polygon((0.45485, 8.613745), (1.841009, 6.179651), (0.45485, 3.411822), align=None, mode=Mode.SUBTRACT)
        Polygon((0.799204, 2.134794), (2.357842, 5.247023), (4.170251, 2.134794), align=None, mode=Mode.SUBTRACT)
        Polygon((2.811431, 6.248467), (4.170251, 8.613745), (4.450015, 3.616143), align=None, mode=Mode.SUBTRACT)
        Polygon((2.271924, 7.201679), (0.799204, 9.758234), (3.641225, 9.758234), align=None, mode=Mode.SUBTRACT)
        Polygon((4.714794, 0), (5.060531, -5.828136), (3.17182, -2.843706), align=None, mode=Mode.SUBTRACT)
        Polygon((1.568874, 14.448747), (0.45485, 12.224307), (0.45485, 16.402385), align=None, mode=Mode.SUBTRACT)
        Polygon((0.799204, 10.940004), (2.120922, 13.579161), (3.641225, 10.940004), align=None, mode=Mode.SUBTRACT)
        Polygon((3.910219, 12.291129), (2.614767, 14.565943), (3.715754, 16.559127), align=None, mode=Mode.SUBTRACT)
        Polygon((0.799204, 17.699626), (3.286195, 17.699626), (2.069376, 15.469204), align=None, mode=Mode.SUBTRACT)
        Polygon((0.45485, 23.963032), (1.39996, 22.213539), (0.429307, 20.278619), align=None, mode=Mode.SUBTRACT)
        Polygon((0.76812, 25.27616), (2.811431, 25.27616), (1.841009, 23.178602), align=None, mode=Mode.SUBTRACT)
        Polygon((0.661599, 18.764926), (1.841009, 21.210955), (3.286195, 18.764926), align=None, mode=Mode.SUBTRACT)
        Polygon((3.465, 20.303925), (2.357842, 22.213539), (3.286195, 23.963032), align=None, mode=Mode.SUBTRACT)
    extrude(amount=F1_DEPTH)


solid = f1.part
